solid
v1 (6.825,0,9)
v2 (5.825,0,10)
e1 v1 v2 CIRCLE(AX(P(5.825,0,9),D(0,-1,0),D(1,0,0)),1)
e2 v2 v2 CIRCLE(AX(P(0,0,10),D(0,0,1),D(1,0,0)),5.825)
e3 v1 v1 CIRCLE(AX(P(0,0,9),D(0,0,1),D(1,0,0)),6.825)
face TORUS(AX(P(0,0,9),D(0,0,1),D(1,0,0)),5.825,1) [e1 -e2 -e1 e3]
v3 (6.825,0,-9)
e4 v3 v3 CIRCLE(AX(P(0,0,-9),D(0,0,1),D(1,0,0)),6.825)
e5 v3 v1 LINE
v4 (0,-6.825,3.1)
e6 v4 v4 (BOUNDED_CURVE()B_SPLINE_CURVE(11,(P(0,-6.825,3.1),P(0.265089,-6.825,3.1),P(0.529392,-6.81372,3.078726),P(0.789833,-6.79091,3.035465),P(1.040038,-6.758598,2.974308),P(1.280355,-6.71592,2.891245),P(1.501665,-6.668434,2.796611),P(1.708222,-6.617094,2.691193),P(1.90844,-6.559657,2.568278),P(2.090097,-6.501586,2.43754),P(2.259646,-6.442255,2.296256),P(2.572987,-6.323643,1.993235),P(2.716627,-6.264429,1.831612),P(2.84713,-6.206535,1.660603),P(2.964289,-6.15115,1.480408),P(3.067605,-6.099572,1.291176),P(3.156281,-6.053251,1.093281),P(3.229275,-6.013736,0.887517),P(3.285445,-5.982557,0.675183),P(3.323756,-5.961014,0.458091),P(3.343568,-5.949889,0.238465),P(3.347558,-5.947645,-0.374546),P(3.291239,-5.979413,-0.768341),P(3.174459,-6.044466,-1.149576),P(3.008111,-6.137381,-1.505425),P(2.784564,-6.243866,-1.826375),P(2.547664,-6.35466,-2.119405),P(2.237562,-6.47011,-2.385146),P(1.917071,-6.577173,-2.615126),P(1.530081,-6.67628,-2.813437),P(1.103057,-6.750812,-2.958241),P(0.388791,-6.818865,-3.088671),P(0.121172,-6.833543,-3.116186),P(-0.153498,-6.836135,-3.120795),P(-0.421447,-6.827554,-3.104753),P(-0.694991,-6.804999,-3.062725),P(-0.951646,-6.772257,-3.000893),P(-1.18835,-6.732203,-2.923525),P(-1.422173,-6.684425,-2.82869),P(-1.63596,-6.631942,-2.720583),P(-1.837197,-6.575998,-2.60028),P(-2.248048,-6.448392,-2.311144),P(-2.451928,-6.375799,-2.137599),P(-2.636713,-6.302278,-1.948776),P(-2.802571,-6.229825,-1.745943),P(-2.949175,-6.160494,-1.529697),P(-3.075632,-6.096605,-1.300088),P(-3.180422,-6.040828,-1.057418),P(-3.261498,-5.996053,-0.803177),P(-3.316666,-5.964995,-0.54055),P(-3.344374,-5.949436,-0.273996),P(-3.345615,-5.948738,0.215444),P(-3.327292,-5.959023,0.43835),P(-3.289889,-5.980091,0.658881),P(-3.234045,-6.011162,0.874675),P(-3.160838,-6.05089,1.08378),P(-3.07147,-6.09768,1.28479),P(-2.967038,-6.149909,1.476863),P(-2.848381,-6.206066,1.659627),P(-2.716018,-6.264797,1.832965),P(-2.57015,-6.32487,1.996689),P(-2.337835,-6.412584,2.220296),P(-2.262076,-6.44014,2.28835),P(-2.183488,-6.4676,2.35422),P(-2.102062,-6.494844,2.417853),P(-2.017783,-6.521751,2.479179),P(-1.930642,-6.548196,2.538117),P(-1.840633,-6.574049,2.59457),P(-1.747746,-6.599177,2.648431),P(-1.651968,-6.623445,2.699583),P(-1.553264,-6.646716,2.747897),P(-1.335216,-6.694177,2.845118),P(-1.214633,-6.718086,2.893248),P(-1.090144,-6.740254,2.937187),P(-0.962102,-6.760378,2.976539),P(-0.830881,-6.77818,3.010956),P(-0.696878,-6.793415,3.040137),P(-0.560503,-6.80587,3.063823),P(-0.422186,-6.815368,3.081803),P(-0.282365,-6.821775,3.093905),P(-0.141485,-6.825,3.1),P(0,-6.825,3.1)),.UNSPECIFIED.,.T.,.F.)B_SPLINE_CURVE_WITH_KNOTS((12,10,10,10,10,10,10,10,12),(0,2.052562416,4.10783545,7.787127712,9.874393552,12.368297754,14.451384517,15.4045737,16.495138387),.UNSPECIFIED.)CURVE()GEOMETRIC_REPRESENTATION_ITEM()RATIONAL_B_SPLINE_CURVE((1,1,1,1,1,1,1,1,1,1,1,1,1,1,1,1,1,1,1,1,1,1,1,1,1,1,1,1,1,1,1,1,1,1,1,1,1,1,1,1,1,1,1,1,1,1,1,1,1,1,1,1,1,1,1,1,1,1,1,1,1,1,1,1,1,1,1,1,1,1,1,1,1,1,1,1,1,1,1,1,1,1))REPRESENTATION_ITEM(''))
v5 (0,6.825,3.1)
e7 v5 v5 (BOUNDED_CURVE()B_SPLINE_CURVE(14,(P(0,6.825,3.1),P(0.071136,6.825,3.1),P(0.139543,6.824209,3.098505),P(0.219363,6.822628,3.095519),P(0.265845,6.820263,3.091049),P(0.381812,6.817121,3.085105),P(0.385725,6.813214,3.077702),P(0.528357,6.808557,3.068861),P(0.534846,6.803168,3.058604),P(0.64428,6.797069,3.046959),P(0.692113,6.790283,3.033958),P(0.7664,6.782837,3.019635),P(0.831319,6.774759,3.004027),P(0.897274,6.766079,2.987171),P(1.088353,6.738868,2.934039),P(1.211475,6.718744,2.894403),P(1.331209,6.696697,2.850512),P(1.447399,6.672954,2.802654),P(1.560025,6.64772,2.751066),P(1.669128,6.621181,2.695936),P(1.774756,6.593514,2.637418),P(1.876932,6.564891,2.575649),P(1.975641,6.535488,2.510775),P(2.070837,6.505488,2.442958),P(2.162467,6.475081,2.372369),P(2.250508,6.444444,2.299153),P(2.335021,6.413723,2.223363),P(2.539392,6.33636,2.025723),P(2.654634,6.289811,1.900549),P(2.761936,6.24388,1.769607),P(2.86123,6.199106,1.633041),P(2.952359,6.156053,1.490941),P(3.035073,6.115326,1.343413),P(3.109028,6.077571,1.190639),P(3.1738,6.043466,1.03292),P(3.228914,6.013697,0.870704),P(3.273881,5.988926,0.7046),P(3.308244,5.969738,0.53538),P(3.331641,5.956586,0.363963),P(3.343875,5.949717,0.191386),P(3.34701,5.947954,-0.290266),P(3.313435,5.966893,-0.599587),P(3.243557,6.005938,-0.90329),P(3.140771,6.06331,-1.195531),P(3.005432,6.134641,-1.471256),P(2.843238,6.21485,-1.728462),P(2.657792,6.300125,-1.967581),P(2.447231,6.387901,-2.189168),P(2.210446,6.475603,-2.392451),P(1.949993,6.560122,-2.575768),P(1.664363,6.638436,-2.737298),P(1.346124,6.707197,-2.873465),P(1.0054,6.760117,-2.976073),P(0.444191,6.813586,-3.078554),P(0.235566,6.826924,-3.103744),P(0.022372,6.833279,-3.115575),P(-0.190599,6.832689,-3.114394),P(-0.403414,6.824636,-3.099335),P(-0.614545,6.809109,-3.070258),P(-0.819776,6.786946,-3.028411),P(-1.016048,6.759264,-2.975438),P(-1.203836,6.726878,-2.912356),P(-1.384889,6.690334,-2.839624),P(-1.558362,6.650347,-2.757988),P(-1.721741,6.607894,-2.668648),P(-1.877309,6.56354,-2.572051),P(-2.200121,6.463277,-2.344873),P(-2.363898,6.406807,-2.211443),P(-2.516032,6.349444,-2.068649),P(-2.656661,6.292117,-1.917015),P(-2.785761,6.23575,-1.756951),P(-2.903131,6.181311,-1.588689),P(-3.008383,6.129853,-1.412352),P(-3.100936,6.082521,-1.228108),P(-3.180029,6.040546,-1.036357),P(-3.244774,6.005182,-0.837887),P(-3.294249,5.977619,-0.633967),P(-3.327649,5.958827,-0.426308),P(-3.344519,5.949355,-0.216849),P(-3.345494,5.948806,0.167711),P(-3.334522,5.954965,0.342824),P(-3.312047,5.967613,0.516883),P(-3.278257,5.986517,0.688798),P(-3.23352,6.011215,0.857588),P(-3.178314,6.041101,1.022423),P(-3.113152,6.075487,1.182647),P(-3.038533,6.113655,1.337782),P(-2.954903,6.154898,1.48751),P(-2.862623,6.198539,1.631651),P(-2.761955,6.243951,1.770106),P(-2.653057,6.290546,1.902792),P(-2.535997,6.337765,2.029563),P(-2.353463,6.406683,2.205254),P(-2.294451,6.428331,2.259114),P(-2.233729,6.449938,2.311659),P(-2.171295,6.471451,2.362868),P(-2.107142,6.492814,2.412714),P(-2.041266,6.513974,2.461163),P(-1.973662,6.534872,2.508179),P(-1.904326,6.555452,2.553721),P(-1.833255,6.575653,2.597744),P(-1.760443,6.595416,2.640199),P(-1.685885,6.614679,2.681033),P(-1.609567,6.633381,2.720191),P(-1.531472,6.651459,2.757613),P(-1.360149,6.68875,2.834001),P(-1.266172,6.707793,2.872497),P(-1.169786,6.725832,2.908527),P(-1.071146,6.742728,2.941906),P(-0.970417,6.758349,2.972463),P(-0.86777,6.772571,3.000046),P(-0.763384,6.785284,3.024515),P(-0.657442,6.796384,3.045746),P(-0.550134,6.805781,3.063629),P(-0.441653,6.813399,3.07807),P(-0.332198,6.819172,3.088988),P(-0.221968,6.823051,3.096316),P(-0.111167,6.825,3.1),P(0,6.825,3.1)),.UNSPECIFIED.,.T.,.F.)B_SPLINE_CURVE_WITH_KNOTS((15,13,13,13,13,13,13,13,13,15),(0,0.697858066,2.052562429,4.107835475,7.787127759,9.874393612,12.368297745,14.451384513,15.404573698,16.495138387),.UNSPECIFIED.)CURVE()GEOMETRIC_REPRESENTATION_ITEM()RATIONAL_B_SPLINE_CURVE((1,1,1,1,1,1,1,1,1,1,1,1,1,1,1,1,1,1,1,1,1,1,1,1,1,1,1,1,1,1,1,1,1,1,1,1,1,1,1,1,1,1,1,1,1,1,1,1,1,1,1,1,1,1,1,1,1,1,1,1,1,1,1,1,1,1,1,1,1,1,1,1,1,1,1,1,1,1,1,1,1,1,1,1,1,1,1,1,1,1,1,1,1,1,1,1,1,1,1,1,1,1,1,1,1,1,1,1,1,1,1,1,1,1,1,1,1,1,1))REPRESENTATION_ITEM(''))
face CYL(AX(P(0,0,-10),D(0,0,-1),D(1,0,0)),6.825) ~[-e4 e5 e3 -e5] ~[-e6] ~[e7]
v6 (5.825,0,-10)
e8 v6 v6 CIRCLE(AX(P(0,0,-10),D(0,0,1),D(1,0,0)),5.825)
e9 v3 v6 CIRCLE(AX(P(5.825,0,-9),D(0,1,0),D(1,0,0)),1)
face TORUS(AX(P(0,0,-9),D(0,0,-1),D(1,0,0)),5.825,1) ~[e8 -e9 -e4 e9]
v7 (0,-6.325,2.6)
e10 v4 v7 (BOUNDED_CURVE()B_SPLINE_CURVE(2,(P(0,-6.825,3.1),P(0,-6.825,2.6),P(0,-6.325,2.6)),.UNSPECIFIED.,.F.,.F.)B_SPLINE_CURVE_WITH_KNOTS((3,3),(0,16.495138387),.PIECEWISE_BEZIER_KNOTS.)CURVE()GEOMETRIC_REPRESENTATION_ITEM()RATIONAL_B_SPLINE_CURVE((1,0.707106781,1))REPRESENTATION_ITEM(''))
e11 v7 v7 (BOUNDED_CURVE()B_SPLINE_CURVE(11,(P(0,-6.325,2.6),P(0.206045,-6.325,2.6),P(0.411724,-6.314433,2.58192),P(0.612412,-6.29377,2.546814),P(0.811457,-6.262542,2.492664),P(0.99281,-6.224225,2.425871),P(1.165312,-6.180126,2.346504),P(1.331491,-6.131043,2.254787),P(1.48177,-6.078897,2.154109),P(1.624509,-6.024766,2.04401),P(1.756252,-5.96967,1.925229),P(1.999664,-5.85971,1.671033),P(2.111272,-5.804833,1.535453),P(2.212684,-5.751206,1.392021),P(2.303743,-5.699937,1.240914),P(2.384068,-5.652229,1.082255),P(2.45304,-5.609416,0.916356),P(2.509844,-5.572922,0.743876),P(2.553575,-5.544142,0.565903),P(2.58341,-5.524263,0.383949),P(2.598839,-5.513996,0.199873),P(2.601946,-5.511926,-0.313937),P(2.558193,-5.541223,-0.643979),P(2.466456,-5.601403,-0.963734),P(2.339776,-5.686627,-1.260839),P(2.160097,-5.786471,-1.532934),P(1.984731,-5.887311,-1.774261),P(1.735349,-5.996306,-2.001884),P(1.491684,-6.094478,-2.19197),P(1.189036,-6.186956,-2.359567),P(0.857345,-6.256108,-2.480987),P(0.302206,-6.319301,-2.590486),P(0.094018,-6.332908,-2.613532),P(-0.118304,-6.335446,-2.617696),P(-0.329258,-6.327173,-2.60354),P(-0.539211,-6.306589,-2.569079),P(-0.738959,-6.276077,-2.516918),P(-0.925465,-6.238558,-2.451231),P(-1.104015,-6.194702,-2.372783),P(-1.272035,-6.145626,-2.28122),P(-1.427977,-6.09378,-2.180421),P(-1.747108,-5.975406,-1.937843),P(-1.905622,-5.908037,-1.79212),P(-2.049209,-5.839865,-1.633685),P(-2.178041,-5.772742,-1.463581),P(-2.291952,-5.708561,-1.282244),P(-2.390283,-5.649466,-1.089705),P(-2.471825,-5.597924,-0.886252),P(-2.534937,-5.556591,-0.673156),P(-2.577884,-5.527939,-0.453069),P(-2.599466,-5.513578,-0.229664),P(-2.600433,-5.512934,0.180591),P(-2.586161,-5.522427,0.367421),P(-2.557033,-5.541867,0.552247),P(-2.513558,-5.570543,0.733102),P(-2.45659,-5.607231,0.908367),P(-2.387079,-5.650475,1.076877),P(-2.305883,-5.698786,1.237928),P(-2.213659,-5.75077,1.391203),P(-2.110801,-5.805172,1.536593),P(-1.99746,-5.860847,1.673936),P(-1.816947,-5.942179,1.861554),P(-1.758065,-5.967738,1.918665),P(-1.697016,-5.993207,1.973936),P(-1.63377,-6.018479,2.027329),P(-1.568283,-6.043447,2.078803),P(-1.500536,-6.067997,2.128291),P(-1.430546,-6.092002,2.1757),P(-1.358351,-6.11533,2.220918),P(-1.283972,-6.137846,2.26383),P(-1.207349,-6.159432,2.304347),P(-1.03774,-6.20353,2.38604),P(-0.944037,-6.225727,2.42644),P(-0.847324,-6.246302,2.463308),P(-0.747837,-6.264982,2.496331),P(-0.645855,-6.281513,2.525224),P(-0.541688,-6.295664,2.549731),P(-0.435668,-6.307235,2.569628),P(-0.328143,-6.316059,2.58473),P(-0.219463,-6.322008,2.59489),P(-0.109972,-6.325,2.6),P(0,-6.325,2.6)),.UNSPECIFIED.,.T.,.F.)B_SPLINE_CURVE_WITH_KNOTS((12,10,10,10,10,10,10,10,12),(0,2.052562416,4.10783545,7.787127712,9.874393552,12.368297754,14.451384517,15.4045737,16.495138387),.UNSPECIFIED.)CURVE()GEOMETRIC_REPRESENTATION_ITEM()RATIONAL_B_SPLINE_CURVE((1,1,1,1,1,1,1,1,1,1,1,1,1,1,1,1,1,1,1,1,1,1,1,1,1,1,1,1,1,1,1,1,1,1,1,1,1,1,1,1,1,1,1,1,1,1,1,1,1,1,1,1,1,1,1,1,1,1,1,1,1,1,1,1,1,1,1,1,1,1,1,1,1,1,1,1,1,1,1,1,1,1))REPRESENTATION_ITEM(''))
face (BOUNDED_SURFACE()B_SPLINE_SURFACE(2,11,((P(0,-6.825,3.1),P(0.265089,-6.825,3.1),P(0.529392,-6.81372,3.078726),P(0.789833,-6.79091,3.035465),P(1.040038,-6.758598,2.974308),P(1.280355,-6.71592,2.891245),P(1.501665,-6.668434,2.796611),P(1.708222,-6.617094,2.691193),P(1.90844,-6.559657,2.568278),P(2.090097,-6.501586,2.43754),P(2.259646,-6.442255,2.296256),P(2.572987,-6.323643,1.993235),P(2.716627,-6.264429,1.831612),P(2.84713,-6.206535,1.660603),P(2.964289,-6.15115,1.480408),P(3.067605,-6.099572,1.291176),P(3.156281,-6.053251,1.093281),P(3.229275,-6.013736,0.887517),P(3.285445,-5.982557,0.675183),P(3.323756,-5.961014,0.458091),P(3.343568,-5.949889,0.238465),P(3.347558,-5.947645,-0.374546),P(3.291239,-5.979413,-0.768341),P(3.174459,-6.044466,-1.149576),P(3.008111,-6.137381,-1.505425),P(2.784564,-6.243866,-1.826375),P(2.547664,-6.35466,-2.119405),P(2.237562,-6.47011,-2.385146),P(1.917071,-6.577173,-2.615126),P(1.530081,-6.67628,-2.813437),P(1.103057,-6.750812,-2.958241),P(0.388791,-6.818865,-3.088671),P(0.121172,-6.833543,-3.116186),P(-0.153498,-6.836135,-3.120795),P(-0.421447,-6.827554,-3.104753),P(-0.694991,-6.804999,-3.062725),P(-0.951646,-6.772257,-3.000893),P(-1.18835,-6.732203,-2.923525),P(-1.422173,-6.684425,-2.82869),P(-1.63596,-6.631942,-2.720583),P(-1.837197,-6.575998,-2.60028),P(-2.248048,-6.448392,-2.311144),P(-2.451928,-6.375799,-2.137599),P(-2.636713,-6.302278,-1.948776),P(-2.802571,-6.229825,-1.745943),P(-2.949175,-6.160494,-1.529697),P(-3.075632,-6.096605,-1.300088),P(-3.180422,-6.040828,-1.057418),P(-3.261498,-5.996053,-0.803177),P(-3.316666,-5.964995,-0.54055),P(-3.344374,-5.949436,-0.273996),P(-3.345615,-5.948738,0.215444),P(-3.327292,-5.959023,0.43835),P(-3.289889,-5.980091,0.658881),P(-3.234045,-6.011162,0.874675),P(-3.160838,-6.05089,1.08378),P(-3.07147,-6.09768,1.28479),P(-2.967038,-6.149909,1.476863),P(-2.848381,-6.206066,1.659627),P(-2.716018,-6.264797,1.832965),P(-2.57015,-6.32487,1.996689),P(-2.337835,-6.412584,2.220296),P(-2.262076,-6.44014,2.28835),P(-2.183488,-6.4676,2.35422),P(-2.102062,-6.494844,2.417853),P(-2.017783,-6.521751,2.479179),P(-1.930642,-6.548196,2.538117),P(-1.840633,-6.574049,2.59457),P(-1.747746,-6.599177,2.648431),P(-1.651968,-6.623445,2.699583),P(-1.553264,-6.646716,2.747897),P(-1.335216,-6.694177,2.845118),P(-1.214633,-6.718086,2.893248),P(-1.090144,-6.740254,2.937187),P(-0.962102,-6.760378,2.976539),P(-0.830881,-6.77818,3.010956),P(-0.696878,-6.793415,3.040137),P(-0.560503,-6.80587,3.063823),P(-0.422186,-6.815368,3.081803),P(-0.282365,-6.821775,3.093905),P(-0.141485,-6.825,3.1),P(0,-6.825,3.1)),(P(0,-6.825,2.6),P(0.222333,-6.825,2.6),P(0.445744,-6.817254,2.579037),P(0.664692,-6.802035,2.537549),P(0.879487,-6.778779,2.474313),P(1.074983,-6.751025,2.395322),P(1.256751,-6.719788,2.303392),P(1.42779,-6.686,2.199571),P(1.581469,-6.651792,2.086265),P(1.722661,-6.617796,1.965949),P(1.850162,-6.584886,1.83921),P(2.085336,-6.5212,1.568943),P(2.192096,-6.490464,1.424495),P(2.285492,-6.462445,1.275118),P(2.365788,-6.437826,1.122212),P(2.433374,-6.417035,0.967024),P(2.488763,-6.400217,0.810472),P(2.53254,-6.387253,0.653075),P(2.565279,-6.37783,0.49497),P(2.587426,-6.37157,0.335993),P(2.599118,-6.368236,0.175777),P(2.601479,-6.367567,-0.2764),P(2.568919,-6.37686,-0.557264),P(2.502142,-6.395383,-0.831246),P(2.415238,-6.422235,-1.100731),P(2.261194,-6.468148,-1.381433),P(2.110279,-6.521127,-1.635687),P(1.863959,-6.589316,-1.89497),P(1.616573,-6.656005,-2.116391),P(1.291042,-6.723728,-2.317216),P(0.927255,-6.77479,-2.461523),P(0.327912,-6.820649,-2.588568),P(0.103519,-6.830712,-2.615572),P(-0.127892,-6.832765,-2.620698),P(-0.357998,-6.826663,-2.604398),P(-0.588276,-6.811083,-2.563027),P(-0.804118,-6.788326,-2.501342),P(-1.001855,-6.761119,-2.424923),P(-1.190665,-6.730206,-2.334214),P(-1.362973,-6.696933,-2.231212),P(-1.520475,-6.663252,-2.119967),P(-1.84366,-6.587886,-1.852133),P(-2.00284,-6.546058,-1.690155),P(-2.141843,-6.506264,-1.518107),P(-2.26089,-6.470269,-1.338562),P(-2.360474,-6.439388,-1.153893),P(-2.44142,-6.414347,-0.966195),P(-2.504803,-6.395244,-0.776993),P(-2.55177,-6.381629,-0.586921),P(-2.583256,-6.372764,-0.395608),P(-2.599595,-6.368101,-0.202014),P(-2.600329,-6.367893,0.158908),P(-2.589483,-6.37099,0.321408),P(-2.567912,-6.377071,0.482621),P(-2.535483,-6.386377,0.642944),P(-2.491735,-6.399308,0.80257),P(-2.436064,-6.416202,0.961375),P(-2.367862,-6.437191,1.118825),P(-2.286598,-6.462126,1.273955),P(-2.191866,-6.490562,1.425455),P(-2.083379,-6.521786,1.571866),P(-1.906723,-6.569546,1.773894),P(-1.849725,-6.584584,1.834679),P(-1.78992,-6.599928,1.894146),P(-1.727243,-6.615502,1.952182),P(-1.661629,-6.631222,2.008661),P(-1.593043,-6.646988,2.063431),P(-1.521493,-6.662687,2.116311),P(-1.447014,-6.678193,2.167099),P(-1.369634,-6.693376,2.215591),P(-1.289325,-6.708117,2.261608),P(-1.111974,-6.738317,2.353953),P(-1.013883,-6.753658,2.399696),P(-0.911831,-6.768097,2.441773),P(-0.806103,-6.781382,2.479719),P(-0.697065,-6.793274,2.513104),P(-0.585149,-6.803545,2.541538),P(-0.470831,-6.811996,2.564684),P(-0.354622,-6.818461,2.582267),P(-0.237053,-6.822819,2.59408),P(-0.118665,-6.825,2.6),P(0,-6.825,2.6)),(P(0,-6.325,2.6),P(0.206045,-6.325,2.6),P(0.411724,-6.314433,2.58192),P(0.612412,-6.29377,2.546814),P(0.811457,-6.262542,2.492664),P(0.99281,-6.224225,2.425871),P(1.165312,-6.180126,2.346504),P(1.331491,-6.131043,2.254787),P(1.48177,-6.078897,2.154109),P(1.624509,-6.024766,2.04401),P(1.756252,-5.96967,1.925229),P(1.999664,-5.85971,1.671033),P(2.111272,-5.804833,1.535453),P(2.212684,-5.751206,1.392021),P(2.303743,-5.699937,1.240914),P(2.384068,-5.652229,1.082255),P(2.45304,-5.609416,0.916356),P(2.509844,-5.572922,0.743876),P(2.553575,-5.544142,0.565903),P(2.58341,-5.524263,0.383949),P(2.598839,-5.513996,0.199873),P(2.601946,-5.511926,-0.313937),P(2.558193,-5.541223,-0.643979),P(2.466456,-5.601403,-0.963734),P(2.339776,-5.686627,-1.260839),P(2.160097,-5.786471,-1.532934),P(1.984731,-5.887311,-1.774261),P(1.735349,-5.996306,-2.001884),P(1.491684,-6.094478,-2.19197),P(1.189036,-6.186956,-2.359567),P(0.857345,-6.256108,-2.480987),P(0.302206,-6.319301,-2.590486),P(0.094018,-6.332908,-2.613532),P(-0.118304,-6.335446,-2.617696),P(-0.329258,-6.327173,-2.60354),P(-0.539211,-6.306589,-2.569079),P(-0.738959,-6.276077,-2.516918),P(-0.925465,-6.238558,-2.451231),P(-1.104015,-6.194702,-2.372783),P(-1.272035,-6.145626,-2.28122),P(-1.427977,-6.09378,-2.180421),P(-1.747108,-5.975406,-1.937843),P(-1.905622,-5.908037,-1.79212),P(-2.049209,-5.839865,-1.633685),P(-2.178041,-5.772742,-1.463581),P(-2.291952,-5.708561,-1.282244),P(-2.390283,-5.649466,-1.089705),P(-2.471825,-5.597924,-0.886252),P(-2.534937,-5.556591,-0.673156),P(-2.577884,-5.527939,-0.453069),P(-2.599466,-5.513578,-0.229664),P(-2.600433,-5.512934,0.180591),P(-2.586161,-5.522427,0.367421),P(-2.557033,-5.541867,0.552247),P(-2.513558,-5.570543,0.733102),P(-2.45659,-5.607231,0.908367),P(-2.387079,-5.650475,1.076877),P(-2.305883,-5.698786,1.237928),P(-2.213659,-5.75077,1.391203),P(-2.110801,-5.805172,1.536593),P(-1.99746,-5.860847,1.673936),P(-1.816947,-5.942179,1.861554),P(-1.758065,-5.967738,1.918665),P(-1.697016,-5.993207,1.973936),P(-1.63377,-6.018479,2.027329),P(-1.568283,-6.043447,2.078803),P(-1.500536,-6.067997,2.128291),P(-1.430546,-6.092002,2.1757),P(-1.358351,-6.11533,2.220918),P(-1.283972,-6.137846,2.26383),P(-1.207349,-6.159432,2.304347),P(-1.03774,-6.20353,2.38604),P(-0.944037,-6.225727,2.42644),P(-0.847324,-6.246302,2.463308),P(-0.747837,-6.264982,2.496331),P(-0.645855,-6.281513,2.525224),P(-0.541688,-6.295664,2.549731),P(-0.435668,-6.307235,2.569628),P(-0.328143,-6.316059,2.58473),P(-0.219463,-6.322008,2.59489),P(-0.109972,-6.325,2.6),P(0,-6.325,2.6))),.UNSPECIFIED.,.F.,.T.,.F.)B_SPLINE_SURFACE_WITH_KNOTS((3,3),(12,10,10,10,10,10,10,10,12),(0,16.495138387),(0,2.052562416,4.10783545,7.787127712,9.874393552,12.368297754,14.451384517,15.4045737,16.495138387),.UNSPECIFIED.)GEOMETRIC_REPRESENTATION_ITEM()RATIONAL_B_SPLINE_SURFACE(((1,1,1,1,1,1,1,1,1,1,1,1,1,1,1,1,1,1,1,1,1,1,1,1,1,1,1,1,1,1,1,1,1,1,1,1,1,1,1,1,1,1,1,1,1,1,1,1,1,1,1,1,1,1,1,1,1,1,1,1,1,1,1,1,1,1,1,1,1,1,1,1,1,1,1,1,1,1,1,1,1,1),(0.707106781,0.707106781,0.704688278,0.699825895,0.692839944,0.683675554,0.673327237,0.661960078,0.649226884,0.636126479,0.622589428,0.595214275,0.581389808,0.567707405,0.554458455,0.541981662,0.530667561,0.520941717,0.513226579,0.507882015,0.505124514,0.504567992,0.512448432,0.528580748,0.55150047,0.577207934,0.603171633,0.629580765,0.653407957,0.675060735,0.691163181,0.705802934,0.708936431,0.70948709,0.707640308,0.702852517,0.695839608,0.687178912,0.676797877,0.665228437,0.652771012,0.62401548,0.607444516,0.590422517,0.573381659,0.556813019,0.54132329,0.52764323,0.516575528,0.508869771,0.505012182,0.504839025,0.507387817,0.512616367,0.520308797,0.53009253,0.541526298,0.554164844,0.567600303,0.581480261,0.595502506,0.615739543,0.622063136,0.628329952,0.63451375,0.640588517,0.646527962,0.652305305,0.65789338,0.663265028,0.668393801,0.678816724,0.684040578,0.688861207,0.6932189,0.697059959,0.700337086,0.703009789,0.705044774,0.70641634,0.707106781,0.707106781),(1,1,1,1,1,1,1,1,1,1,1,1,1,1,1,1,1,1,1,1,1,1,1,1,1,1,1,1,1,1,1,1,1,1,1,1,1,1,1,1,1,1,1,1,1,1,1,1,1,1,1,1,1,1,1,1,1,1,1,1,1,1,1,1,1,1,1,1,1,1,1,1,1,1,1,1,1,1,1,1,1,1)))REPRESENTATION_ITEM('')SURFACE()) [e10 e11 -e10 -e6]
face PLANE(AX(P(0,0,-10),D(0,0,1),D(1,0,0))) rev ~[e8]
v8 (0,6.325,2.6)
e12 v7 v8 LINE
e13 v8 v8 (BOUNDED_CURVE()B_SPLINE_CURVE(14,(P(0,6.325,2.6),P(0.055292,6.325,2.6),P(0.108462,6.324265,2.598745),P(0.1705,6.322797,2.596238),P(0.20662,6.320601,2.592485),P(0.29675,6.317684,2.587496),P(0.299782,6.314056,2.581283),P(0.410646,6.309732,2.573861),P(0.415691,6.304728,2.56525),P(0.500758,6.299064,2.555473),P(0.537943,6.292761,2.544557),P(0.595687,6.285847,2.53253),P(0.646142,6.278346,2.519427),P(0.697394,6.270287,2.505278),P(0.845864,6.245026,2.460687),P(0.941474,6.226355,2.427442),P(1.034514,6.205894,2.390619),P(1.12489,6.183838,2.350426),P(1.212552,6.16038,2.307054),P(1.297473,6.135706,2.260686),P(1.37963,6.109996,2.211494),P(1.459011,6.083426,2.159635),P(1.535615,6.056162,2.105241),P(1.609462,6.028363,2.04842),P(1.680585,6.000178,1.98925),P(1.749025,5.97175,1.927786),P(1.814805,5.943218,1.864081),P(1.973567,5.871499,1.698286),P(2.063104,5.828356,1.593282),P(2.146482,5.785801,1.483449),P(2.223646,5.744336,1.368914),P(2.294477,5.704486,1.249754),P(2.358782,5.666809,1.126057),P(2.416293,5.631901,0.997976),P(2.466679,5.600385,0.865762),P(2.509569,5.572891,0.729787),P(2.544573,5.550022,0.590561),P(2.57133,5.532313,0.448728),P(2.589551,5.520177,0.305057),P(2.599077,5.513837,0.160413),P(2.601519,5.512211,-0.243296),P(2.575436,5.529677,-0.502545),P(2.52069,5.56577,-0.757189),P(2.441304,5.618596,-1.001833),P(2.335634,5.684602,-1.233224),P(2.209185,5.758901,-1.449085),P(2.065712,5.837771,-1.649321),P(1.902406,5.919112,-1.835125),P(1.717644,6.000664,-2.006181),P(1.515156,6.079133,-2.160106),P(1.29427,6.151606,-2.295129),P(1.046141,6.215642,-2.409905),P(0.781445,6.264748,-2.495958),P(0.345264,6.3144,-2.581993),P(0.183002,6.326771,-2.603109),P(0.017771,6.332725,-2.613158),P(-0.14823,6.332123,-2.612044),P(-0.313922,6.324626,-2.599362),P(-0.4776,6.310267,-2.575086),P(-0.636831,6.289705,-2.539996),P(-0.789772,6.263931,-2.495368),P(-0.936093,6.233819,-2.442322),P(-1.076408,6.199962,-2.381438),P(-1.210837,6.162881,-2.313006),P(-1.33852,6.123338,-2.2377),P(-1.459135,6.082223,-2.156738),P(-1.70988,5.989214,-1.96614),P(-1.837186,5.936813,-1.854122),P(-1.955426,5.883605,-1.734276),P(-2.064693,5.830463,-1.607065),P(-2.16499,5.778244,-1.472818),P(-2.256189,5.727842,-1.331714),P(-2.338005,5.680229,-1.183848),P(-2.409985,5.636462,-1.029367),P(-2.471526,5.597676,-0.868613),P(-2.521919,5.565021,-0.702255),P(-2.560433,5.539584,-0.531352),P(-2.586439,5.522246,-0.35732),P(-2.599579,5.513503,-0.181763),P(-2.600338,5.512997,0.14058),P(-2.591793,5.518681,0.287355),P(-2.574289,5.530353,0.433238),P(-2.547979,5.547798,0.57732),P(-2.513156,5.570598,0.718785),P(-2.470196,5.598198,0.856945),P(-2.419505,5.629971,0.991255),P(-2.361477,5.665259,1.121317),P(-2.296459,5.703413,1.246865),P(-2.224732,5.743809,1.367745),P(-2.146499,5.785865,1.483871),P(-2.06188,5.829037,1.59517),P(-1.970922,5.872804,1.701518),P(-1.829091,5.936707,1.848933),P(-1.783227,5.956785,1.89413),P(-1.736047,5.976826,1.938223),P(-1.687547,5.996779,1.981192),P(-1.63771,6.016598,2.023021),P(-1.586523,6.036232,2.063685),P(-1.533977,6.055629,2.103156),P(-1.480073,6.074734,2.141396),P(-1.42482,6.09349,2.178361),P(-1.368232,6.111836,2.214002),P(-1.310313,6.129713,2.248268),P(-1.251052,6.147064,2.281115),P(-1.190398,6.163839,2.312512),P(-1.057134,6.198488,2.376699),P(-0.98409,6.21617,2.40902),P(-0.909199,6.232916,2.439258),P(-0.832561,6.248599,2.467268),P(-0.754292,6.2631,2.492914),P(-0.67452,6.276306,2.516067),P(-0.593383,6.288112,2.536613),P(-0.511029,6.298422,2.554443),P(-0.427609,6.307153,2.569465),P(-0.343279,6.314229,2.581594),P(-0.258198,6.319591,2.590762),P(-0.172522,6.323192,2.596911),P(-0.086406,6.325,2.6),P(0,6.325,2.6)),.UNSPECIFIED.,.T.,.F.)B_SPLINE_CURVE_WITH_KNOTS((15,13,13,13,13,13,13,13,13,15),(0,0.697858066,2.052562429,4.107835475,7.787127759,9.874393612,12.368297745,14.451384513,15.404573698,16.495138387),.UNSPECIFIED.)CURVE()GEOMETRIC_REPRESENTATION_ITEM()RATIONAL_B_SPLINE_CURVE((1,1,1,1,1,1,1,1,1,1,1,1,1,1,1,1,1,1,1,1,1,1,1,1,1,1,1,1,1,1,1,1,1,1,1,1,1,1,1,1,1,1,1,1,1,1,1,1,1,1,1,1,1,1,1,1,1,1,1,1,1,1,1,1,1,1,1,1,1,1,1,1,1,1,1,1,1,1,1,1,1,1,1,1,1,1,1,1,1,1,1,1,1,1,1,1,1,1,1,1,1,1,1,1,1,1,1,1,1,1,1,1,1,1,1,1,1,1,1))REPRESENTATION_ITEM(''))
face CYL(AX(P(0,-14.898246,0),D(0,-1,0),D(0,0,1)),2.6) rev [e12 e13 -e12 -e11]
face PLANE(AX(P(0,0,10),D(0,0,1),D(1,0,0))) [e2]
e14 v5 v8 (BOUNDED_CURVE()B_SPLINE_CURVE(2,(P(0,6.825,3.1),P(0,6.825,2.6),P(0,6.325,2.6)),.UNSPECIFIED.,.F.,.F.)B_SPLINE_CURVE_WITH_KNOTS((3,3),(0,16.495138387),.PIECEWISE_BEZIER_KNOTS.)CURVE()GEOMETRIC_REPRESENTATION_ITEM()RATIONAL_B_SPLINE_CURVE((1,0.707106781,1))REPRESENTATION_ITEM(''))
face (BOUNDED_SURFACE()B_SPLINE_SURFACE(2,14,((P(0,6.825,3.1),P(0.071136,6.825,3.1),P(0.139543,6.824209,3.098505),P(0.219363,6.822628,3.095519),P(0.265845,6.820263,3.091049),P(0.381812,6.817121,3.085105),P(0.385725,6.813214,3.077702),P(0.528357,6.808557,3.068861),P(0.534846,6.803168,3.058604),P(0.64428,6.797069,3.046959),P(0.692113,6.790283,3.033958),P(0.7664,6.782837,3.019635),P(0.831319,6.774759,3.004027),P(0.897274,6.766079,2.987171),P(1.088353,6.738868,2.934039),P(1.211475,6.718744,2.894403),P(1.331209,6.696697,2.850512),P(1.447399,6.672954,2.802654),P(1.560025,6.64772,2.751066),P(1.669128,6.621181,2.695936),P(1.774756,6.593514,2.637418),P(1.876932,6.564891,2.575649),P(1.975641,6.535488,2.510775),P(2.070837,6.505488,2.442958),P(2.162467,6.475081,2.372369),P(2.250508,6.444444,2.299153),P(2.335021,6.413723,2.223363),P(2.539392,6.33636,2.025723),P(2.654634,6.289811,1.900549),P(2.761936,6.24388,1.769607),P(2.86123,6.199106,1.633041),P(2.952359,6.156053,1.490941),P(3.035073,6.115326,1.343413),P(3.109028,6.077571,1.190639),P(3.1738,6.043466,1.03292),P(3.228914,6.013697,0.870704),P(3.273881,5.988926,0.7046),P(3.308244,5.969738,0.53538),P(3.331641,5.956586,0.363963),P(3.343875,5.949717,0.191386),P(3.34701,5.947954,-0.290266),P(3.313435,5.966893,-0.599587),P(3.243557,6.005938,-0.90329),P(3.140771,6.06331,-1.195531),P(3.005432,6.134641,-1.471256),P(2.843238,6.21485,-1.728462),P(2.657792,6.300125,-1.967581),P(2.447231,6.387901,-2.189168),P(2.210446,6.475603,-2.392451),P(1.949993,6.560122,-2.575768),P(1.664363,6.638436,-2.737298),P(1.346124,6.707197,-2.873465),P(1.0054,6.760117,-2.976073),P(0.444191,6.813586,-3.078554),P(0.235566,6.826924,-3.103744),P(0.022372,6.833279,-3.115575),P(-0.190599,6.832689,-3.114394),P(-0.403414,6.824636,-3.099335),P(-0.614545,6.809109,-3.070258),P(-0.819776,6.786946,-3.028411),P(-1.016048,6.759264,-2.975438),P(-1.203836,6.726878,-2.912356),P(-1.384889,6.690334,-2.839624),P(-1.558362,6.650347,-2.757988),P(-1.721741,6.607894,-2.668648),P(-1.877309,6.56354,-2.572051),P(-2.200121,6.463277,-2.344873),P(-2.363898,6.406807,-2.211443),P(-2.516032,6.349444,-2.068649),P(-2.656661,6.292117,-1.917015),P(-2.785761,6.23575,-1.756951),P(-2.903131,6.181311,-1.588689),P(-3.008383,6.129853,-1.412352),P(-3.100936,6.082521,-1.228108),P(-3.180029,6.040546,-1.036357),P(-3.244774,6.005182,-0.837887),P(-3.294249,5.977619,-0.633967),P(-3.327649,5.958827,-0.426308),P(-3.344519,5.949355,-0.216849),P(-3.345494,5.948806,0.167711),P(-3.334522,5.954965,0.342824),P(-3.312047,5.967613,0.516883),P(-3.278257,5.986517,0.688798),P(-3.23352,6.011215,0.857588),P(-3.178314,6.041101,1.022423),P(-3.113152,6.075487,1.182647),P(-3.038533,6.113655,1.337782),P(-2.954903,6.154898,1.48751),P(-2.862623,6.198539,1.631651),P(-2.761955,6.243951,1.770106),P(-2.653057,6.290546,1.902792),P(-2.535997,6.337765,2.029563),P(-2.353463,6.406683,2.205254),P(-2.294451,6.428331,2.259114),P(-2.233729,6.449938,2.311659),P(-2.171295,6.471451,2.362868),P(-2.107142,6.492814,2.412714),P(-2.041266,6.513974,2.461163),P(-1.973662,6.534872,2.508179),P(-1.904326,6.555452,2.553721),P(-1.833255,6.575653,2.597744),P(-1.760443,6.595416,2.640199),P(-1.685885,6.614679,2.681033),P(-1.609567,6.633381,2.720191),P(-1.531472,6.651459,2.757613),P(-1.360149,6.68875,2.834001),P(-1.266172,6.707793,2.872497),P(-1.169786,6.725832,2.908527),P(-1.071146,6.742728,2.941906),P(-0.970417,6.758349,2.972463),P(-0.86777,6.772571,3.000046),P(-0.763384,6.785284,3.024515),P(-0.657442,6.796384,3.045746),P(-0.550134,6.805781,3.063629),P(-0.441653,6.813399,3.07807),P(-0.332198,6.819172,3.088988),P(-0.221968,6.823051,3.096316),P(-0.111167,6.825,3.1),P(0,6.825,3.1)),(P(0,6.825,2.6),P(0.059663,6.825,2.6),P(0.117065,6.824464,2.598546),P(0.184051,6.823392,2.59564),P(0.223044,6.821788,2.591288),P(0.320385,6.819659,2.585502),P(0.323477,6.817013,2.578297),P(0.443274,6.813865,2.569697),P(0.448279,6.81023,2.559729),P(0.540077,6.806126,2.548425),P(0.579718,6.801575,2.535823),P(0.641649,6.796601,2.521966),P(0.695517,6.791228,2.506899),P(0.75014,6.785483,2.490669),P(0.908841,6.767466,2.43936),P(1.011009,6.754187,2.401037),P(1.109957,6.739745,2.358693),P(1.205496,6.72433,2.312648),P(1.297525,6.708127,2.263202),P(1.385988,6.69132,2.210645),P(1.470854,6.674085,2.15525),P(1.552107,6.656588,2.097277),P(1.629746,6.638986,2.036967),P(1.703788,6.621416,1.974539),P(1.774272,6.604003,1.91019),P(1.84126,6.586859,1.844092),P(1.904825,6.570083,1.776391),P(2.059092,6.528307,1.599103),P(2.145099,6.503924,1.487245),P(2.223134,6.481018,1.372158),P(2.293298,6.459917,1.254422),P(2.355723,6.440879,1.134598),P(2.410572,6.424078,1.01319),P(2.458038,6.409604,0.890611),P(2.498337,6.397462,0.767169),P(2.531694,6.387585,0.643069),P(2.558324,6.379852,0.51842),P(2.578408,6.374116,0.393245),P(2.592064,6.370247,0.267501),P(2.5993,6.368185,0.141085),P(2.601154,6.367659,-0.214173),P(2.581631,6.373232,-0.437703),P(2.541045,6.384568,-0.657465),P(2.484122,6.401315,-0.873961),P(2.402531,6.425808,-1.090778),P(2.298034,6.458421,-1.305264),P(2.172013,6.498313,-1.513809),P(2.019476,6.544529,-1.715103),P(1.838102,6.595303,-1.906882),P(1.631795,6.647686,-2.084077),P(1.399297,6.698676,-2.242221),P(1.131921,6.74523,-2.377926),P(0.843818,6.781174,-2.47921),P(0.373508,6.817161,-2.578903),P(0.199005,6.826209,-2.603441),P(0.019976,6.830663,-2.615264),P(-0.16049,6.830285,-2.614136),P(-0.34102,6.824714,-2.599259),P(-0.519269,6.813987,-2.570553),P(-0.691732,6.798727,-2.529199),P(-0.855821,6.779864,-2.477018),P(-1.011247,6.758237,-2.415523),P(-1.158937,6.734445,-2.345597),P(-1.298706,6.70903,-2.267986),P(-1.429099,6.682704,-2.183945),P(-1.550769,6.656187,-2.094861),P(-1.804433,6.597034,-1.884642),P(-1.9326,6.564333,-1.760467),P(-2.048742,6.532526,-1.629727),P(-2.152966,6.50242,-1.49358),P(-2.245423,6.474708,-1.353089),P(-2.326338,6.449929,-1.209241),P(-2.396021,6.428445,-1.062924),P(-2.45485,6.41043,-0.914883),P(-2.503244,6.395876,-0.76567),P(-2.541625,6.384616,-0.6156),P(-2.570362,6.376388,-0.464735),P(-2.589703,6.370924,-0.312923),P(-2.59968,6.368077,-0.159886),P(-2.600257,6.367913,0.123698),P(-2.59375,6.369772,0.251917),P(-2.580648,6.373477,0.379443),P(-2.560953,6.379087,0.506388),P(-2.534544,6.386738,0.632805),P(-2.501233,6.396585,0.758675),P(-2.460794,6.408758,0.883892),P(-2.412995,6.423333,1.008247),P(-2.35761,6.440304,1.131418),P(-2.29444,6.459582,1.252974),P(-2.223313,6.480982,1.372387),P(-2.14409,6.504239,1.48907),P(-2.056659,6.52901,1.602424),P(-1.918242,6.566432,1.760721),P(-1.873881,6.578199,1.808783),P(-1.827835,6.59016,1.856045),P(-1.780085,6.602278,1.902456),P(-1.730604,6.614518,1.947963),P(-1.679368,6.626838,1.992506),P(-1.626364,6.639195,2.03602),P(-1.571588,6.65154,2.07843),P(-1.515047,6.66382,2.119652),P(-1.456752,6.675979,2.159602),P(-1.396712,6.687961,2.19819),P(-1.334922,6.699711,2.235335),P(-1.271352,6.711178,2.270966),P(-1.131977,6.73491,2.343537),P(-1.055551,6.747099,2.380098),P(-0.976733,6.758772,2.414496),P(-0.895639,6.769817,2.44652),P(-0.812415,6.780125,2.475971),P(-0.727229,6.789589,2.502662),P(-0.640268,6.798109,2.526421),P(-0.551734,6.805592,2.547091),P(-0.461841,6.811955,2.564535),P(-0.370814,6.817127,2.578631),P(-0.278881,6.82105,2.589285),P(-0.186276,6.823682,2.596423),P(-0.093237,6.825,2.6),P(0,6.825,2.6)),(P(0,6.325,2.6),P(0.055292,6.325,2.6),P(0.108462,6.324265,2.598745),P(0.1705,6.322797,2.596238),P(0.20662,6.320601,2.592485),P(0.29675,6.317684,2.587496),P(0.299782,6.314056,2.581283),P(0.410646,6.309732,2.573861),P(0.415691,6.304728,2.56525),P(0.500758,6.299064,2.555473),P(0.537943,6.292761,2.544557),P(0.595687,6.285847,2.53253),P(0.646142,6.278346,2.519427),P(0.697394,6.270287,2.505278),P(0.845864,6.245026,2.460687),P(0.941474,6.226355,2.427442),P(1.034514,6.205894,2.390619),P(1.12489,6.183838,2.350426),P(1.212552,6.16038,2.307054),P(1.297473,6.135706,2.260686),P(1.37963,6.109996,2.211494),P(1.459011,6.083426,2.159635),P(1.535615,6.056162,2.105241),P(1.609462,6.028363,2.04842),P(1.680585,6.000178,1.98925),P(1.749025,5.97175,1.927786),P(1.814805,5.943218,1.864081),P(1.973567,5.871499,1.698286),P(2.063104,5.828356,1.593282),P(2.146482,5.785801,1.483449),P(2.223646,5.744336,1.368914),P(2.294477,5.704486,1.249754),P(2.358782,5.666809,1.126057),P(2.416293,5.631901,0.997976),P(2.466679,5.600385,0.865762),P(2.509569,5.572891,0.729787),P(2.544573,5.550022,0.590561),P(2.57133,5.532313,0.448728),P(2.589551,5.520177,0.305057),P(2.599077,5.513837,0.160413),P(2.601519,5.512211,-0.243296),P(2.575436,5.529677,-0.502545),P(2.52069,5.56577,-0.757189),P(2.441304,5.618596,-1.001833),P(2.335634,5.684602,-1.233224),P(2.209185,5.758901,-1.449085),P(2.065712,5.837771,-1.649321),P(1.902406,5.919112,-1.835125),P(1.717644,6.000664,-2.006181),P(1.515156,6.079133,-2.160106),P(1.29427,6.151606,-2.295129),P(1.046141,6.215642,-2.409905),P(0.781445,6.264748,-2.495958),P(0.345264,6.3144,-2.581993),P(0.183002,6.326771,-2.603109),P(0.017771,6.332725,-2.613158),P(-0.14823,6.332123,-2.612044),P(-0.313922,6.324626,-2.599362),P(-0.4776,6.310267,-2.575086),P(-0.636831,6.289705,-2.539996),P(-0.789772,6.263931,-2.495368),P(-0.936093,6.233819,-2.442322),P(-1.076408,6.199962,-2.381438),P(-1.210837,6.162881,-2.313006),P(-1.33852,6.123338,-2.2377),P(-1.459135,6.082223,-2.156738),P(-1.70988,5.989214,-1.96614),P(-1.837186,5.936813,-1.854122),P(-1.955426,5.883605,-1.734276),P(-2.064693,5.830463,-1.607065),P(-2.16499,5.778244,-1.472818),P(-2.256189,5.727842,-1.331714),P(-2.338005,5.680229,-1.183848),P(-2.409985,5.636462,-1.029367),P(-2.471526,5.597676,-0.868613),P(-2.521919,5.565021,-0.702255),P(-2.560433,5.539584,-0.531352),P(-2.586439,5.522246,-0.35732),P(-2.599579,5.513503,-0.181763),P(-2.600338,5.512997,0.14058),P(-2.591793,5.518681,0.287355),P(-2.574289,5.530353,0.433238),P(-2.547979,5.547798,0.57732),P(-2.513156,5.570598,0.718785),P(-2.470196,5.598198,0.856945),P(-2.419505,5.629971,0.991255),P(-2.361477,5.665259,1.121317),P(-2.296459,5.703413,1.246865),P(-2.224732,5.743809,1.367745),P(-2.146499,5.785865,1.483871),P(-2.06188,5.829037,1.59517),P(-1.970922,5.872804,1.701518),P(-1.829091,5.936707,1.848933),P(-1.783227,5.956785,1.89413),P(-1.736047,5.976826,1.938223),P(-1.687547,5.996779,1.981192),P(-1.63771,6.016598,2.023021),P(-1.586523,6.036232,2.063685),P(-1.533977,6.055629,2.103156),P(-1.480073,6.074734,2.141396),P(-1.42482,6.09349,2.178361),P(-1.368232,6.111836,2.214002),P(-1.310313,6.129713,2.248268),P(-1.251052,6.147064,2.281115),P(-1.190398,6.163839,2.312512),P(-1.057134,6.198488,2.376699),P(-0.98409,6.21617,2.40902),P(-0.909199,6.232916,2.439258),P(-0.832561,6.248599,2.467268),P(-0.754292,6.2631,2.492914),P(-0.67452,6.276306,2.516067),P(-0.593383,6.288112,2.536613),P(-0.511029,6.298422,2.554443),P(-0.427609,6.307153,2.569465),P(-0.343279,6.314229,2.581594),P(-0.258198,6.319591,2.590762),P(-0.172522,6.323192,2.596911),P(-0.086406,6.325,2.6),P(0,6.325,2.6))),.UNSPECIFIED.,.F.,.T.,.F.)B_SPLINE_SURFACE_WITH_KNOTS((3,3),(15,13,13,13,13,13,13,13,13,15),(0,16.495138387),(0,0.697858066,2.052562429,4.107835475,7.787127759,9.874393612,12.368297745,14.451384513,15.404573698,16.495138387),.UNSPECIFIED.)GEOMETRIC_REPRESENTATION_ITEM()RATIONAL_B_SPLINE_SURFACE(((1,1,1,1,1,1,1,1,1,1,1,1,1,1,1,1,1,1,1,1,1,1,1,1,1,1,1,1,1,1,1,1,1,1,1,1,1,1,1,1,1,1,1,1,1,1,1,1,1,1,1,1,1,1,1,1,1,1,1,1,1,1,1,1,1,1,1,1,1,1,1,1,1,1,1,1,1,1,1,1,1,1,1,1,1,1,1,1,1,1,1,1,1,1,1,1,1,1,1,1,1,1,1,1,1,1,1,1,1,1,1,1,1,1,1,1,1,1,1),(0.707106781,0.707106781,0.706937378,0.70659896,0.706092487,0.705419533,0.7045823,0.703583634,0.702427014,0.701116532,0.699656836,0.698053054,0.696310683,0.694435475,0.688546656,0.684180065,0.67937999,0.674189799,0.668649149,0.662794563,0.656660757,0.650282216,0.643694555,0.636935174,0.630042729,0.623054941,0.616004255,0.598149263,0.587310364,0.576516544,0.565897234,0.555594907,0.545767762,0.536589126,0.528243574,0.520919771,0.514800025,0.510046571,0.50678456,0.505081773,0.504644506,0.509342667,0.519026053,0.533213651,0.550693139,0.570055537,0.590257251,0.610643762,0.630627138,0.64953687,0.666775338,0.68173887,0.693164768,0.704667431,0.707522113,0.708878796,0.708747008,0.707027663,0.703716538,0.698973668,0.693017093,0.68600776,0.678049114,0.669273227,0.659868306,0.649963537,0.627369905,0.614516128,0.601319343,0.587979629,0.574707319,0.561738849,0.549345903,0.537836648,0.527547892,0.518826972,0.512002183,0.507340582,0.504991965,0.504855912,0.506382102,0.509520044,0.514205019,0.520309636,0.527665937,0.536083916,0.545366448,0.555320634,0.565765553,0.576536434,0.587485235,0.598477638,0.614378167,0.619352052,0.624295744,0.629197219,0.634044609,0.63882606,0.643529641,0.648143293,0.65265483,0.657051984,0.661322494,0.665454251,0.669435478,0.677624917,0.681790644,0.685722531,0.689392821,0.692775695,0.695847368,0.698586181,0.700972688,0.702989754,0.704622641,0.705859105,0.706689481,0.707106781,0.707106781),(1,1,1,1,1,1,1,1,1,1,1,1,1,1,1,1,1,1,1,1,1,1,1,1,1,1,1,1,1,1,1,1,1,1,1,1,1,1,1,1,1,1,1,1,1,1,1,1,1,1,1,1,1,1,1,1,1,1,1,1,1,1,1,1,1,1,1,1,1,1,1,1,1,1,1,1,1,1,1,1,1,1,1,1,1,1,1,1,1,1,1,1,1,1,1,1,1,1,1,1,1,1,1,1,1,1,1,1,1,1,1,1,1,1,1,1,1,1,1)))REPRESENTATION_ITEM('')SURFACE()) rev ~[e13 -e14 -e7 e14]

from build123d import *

# Parameters (mm, degrees)
BOSS_EXTRUDE1_DEPTH      = 10
BOSS_EXTRUDE1_DEPTH_BACK = 10
SKETCH1_R                = 6.825
CUT_EXTRUDE1_DEPTH       = 14.898246292
CUT_EXTRUDE1_DEPTH_BACK  = 14.898246292
SKETCH2_R                = 2.6
FILLET1_R                = 1
FILLET2_R                = 0.5


with BuildPart() as part:
    # Sketch1 → Boss-Extrude1 (new, two sides: drawn at the far end of the back side and taken through both)
    with BuildSketch(Plane.XY.offset(-BOSS_EXTRUDE1_DEPTH_BACK)):
        Circle(SKETCH1_R)
    extrude(amount=BOSS_EXTRUDE1_DEPTH + BOSS_EXTRUDE1_DEPTH_BACK)

    # Sketch2 → Cut-Extrude1 (cut, two sides: drawn at the far end of the back side and taken through both)
    with BuildSketch(Plane(origin=(0, 0, 0), x_dir=(1, 0, 0), z_dir=(0, 1, 0)).offset(-CUT_EXTRUDE1_DEPTH_BACK)):
        Circle(SKETCH2_R)
    extrude(amount=CUT_EXTRUDE1_DEPTH + CUT_EXTRUDE1_DEPTH_BACK, mode=Mode.SUBTRACT)

    # Fillet1
    fillet1_edges = [part.edges().sort_by_distance(p)[0] for p in [
        (-6.825, 0, -10),
        (-6.825, 0, 10),
    ]]
    fillet(fillet1_edges, radius=FILLET1_R)

    # Fillet2
    fillet2_edges = [part.edges().sort_by_distance(p)[0] for p in [
        (1e-09, -6.825, -2.600000001),
        (1e-09, 6.825, -2.600000001),
    ]]
    fillet(fillet2_edges, radius=FILLET2_R)


solid = part.part
